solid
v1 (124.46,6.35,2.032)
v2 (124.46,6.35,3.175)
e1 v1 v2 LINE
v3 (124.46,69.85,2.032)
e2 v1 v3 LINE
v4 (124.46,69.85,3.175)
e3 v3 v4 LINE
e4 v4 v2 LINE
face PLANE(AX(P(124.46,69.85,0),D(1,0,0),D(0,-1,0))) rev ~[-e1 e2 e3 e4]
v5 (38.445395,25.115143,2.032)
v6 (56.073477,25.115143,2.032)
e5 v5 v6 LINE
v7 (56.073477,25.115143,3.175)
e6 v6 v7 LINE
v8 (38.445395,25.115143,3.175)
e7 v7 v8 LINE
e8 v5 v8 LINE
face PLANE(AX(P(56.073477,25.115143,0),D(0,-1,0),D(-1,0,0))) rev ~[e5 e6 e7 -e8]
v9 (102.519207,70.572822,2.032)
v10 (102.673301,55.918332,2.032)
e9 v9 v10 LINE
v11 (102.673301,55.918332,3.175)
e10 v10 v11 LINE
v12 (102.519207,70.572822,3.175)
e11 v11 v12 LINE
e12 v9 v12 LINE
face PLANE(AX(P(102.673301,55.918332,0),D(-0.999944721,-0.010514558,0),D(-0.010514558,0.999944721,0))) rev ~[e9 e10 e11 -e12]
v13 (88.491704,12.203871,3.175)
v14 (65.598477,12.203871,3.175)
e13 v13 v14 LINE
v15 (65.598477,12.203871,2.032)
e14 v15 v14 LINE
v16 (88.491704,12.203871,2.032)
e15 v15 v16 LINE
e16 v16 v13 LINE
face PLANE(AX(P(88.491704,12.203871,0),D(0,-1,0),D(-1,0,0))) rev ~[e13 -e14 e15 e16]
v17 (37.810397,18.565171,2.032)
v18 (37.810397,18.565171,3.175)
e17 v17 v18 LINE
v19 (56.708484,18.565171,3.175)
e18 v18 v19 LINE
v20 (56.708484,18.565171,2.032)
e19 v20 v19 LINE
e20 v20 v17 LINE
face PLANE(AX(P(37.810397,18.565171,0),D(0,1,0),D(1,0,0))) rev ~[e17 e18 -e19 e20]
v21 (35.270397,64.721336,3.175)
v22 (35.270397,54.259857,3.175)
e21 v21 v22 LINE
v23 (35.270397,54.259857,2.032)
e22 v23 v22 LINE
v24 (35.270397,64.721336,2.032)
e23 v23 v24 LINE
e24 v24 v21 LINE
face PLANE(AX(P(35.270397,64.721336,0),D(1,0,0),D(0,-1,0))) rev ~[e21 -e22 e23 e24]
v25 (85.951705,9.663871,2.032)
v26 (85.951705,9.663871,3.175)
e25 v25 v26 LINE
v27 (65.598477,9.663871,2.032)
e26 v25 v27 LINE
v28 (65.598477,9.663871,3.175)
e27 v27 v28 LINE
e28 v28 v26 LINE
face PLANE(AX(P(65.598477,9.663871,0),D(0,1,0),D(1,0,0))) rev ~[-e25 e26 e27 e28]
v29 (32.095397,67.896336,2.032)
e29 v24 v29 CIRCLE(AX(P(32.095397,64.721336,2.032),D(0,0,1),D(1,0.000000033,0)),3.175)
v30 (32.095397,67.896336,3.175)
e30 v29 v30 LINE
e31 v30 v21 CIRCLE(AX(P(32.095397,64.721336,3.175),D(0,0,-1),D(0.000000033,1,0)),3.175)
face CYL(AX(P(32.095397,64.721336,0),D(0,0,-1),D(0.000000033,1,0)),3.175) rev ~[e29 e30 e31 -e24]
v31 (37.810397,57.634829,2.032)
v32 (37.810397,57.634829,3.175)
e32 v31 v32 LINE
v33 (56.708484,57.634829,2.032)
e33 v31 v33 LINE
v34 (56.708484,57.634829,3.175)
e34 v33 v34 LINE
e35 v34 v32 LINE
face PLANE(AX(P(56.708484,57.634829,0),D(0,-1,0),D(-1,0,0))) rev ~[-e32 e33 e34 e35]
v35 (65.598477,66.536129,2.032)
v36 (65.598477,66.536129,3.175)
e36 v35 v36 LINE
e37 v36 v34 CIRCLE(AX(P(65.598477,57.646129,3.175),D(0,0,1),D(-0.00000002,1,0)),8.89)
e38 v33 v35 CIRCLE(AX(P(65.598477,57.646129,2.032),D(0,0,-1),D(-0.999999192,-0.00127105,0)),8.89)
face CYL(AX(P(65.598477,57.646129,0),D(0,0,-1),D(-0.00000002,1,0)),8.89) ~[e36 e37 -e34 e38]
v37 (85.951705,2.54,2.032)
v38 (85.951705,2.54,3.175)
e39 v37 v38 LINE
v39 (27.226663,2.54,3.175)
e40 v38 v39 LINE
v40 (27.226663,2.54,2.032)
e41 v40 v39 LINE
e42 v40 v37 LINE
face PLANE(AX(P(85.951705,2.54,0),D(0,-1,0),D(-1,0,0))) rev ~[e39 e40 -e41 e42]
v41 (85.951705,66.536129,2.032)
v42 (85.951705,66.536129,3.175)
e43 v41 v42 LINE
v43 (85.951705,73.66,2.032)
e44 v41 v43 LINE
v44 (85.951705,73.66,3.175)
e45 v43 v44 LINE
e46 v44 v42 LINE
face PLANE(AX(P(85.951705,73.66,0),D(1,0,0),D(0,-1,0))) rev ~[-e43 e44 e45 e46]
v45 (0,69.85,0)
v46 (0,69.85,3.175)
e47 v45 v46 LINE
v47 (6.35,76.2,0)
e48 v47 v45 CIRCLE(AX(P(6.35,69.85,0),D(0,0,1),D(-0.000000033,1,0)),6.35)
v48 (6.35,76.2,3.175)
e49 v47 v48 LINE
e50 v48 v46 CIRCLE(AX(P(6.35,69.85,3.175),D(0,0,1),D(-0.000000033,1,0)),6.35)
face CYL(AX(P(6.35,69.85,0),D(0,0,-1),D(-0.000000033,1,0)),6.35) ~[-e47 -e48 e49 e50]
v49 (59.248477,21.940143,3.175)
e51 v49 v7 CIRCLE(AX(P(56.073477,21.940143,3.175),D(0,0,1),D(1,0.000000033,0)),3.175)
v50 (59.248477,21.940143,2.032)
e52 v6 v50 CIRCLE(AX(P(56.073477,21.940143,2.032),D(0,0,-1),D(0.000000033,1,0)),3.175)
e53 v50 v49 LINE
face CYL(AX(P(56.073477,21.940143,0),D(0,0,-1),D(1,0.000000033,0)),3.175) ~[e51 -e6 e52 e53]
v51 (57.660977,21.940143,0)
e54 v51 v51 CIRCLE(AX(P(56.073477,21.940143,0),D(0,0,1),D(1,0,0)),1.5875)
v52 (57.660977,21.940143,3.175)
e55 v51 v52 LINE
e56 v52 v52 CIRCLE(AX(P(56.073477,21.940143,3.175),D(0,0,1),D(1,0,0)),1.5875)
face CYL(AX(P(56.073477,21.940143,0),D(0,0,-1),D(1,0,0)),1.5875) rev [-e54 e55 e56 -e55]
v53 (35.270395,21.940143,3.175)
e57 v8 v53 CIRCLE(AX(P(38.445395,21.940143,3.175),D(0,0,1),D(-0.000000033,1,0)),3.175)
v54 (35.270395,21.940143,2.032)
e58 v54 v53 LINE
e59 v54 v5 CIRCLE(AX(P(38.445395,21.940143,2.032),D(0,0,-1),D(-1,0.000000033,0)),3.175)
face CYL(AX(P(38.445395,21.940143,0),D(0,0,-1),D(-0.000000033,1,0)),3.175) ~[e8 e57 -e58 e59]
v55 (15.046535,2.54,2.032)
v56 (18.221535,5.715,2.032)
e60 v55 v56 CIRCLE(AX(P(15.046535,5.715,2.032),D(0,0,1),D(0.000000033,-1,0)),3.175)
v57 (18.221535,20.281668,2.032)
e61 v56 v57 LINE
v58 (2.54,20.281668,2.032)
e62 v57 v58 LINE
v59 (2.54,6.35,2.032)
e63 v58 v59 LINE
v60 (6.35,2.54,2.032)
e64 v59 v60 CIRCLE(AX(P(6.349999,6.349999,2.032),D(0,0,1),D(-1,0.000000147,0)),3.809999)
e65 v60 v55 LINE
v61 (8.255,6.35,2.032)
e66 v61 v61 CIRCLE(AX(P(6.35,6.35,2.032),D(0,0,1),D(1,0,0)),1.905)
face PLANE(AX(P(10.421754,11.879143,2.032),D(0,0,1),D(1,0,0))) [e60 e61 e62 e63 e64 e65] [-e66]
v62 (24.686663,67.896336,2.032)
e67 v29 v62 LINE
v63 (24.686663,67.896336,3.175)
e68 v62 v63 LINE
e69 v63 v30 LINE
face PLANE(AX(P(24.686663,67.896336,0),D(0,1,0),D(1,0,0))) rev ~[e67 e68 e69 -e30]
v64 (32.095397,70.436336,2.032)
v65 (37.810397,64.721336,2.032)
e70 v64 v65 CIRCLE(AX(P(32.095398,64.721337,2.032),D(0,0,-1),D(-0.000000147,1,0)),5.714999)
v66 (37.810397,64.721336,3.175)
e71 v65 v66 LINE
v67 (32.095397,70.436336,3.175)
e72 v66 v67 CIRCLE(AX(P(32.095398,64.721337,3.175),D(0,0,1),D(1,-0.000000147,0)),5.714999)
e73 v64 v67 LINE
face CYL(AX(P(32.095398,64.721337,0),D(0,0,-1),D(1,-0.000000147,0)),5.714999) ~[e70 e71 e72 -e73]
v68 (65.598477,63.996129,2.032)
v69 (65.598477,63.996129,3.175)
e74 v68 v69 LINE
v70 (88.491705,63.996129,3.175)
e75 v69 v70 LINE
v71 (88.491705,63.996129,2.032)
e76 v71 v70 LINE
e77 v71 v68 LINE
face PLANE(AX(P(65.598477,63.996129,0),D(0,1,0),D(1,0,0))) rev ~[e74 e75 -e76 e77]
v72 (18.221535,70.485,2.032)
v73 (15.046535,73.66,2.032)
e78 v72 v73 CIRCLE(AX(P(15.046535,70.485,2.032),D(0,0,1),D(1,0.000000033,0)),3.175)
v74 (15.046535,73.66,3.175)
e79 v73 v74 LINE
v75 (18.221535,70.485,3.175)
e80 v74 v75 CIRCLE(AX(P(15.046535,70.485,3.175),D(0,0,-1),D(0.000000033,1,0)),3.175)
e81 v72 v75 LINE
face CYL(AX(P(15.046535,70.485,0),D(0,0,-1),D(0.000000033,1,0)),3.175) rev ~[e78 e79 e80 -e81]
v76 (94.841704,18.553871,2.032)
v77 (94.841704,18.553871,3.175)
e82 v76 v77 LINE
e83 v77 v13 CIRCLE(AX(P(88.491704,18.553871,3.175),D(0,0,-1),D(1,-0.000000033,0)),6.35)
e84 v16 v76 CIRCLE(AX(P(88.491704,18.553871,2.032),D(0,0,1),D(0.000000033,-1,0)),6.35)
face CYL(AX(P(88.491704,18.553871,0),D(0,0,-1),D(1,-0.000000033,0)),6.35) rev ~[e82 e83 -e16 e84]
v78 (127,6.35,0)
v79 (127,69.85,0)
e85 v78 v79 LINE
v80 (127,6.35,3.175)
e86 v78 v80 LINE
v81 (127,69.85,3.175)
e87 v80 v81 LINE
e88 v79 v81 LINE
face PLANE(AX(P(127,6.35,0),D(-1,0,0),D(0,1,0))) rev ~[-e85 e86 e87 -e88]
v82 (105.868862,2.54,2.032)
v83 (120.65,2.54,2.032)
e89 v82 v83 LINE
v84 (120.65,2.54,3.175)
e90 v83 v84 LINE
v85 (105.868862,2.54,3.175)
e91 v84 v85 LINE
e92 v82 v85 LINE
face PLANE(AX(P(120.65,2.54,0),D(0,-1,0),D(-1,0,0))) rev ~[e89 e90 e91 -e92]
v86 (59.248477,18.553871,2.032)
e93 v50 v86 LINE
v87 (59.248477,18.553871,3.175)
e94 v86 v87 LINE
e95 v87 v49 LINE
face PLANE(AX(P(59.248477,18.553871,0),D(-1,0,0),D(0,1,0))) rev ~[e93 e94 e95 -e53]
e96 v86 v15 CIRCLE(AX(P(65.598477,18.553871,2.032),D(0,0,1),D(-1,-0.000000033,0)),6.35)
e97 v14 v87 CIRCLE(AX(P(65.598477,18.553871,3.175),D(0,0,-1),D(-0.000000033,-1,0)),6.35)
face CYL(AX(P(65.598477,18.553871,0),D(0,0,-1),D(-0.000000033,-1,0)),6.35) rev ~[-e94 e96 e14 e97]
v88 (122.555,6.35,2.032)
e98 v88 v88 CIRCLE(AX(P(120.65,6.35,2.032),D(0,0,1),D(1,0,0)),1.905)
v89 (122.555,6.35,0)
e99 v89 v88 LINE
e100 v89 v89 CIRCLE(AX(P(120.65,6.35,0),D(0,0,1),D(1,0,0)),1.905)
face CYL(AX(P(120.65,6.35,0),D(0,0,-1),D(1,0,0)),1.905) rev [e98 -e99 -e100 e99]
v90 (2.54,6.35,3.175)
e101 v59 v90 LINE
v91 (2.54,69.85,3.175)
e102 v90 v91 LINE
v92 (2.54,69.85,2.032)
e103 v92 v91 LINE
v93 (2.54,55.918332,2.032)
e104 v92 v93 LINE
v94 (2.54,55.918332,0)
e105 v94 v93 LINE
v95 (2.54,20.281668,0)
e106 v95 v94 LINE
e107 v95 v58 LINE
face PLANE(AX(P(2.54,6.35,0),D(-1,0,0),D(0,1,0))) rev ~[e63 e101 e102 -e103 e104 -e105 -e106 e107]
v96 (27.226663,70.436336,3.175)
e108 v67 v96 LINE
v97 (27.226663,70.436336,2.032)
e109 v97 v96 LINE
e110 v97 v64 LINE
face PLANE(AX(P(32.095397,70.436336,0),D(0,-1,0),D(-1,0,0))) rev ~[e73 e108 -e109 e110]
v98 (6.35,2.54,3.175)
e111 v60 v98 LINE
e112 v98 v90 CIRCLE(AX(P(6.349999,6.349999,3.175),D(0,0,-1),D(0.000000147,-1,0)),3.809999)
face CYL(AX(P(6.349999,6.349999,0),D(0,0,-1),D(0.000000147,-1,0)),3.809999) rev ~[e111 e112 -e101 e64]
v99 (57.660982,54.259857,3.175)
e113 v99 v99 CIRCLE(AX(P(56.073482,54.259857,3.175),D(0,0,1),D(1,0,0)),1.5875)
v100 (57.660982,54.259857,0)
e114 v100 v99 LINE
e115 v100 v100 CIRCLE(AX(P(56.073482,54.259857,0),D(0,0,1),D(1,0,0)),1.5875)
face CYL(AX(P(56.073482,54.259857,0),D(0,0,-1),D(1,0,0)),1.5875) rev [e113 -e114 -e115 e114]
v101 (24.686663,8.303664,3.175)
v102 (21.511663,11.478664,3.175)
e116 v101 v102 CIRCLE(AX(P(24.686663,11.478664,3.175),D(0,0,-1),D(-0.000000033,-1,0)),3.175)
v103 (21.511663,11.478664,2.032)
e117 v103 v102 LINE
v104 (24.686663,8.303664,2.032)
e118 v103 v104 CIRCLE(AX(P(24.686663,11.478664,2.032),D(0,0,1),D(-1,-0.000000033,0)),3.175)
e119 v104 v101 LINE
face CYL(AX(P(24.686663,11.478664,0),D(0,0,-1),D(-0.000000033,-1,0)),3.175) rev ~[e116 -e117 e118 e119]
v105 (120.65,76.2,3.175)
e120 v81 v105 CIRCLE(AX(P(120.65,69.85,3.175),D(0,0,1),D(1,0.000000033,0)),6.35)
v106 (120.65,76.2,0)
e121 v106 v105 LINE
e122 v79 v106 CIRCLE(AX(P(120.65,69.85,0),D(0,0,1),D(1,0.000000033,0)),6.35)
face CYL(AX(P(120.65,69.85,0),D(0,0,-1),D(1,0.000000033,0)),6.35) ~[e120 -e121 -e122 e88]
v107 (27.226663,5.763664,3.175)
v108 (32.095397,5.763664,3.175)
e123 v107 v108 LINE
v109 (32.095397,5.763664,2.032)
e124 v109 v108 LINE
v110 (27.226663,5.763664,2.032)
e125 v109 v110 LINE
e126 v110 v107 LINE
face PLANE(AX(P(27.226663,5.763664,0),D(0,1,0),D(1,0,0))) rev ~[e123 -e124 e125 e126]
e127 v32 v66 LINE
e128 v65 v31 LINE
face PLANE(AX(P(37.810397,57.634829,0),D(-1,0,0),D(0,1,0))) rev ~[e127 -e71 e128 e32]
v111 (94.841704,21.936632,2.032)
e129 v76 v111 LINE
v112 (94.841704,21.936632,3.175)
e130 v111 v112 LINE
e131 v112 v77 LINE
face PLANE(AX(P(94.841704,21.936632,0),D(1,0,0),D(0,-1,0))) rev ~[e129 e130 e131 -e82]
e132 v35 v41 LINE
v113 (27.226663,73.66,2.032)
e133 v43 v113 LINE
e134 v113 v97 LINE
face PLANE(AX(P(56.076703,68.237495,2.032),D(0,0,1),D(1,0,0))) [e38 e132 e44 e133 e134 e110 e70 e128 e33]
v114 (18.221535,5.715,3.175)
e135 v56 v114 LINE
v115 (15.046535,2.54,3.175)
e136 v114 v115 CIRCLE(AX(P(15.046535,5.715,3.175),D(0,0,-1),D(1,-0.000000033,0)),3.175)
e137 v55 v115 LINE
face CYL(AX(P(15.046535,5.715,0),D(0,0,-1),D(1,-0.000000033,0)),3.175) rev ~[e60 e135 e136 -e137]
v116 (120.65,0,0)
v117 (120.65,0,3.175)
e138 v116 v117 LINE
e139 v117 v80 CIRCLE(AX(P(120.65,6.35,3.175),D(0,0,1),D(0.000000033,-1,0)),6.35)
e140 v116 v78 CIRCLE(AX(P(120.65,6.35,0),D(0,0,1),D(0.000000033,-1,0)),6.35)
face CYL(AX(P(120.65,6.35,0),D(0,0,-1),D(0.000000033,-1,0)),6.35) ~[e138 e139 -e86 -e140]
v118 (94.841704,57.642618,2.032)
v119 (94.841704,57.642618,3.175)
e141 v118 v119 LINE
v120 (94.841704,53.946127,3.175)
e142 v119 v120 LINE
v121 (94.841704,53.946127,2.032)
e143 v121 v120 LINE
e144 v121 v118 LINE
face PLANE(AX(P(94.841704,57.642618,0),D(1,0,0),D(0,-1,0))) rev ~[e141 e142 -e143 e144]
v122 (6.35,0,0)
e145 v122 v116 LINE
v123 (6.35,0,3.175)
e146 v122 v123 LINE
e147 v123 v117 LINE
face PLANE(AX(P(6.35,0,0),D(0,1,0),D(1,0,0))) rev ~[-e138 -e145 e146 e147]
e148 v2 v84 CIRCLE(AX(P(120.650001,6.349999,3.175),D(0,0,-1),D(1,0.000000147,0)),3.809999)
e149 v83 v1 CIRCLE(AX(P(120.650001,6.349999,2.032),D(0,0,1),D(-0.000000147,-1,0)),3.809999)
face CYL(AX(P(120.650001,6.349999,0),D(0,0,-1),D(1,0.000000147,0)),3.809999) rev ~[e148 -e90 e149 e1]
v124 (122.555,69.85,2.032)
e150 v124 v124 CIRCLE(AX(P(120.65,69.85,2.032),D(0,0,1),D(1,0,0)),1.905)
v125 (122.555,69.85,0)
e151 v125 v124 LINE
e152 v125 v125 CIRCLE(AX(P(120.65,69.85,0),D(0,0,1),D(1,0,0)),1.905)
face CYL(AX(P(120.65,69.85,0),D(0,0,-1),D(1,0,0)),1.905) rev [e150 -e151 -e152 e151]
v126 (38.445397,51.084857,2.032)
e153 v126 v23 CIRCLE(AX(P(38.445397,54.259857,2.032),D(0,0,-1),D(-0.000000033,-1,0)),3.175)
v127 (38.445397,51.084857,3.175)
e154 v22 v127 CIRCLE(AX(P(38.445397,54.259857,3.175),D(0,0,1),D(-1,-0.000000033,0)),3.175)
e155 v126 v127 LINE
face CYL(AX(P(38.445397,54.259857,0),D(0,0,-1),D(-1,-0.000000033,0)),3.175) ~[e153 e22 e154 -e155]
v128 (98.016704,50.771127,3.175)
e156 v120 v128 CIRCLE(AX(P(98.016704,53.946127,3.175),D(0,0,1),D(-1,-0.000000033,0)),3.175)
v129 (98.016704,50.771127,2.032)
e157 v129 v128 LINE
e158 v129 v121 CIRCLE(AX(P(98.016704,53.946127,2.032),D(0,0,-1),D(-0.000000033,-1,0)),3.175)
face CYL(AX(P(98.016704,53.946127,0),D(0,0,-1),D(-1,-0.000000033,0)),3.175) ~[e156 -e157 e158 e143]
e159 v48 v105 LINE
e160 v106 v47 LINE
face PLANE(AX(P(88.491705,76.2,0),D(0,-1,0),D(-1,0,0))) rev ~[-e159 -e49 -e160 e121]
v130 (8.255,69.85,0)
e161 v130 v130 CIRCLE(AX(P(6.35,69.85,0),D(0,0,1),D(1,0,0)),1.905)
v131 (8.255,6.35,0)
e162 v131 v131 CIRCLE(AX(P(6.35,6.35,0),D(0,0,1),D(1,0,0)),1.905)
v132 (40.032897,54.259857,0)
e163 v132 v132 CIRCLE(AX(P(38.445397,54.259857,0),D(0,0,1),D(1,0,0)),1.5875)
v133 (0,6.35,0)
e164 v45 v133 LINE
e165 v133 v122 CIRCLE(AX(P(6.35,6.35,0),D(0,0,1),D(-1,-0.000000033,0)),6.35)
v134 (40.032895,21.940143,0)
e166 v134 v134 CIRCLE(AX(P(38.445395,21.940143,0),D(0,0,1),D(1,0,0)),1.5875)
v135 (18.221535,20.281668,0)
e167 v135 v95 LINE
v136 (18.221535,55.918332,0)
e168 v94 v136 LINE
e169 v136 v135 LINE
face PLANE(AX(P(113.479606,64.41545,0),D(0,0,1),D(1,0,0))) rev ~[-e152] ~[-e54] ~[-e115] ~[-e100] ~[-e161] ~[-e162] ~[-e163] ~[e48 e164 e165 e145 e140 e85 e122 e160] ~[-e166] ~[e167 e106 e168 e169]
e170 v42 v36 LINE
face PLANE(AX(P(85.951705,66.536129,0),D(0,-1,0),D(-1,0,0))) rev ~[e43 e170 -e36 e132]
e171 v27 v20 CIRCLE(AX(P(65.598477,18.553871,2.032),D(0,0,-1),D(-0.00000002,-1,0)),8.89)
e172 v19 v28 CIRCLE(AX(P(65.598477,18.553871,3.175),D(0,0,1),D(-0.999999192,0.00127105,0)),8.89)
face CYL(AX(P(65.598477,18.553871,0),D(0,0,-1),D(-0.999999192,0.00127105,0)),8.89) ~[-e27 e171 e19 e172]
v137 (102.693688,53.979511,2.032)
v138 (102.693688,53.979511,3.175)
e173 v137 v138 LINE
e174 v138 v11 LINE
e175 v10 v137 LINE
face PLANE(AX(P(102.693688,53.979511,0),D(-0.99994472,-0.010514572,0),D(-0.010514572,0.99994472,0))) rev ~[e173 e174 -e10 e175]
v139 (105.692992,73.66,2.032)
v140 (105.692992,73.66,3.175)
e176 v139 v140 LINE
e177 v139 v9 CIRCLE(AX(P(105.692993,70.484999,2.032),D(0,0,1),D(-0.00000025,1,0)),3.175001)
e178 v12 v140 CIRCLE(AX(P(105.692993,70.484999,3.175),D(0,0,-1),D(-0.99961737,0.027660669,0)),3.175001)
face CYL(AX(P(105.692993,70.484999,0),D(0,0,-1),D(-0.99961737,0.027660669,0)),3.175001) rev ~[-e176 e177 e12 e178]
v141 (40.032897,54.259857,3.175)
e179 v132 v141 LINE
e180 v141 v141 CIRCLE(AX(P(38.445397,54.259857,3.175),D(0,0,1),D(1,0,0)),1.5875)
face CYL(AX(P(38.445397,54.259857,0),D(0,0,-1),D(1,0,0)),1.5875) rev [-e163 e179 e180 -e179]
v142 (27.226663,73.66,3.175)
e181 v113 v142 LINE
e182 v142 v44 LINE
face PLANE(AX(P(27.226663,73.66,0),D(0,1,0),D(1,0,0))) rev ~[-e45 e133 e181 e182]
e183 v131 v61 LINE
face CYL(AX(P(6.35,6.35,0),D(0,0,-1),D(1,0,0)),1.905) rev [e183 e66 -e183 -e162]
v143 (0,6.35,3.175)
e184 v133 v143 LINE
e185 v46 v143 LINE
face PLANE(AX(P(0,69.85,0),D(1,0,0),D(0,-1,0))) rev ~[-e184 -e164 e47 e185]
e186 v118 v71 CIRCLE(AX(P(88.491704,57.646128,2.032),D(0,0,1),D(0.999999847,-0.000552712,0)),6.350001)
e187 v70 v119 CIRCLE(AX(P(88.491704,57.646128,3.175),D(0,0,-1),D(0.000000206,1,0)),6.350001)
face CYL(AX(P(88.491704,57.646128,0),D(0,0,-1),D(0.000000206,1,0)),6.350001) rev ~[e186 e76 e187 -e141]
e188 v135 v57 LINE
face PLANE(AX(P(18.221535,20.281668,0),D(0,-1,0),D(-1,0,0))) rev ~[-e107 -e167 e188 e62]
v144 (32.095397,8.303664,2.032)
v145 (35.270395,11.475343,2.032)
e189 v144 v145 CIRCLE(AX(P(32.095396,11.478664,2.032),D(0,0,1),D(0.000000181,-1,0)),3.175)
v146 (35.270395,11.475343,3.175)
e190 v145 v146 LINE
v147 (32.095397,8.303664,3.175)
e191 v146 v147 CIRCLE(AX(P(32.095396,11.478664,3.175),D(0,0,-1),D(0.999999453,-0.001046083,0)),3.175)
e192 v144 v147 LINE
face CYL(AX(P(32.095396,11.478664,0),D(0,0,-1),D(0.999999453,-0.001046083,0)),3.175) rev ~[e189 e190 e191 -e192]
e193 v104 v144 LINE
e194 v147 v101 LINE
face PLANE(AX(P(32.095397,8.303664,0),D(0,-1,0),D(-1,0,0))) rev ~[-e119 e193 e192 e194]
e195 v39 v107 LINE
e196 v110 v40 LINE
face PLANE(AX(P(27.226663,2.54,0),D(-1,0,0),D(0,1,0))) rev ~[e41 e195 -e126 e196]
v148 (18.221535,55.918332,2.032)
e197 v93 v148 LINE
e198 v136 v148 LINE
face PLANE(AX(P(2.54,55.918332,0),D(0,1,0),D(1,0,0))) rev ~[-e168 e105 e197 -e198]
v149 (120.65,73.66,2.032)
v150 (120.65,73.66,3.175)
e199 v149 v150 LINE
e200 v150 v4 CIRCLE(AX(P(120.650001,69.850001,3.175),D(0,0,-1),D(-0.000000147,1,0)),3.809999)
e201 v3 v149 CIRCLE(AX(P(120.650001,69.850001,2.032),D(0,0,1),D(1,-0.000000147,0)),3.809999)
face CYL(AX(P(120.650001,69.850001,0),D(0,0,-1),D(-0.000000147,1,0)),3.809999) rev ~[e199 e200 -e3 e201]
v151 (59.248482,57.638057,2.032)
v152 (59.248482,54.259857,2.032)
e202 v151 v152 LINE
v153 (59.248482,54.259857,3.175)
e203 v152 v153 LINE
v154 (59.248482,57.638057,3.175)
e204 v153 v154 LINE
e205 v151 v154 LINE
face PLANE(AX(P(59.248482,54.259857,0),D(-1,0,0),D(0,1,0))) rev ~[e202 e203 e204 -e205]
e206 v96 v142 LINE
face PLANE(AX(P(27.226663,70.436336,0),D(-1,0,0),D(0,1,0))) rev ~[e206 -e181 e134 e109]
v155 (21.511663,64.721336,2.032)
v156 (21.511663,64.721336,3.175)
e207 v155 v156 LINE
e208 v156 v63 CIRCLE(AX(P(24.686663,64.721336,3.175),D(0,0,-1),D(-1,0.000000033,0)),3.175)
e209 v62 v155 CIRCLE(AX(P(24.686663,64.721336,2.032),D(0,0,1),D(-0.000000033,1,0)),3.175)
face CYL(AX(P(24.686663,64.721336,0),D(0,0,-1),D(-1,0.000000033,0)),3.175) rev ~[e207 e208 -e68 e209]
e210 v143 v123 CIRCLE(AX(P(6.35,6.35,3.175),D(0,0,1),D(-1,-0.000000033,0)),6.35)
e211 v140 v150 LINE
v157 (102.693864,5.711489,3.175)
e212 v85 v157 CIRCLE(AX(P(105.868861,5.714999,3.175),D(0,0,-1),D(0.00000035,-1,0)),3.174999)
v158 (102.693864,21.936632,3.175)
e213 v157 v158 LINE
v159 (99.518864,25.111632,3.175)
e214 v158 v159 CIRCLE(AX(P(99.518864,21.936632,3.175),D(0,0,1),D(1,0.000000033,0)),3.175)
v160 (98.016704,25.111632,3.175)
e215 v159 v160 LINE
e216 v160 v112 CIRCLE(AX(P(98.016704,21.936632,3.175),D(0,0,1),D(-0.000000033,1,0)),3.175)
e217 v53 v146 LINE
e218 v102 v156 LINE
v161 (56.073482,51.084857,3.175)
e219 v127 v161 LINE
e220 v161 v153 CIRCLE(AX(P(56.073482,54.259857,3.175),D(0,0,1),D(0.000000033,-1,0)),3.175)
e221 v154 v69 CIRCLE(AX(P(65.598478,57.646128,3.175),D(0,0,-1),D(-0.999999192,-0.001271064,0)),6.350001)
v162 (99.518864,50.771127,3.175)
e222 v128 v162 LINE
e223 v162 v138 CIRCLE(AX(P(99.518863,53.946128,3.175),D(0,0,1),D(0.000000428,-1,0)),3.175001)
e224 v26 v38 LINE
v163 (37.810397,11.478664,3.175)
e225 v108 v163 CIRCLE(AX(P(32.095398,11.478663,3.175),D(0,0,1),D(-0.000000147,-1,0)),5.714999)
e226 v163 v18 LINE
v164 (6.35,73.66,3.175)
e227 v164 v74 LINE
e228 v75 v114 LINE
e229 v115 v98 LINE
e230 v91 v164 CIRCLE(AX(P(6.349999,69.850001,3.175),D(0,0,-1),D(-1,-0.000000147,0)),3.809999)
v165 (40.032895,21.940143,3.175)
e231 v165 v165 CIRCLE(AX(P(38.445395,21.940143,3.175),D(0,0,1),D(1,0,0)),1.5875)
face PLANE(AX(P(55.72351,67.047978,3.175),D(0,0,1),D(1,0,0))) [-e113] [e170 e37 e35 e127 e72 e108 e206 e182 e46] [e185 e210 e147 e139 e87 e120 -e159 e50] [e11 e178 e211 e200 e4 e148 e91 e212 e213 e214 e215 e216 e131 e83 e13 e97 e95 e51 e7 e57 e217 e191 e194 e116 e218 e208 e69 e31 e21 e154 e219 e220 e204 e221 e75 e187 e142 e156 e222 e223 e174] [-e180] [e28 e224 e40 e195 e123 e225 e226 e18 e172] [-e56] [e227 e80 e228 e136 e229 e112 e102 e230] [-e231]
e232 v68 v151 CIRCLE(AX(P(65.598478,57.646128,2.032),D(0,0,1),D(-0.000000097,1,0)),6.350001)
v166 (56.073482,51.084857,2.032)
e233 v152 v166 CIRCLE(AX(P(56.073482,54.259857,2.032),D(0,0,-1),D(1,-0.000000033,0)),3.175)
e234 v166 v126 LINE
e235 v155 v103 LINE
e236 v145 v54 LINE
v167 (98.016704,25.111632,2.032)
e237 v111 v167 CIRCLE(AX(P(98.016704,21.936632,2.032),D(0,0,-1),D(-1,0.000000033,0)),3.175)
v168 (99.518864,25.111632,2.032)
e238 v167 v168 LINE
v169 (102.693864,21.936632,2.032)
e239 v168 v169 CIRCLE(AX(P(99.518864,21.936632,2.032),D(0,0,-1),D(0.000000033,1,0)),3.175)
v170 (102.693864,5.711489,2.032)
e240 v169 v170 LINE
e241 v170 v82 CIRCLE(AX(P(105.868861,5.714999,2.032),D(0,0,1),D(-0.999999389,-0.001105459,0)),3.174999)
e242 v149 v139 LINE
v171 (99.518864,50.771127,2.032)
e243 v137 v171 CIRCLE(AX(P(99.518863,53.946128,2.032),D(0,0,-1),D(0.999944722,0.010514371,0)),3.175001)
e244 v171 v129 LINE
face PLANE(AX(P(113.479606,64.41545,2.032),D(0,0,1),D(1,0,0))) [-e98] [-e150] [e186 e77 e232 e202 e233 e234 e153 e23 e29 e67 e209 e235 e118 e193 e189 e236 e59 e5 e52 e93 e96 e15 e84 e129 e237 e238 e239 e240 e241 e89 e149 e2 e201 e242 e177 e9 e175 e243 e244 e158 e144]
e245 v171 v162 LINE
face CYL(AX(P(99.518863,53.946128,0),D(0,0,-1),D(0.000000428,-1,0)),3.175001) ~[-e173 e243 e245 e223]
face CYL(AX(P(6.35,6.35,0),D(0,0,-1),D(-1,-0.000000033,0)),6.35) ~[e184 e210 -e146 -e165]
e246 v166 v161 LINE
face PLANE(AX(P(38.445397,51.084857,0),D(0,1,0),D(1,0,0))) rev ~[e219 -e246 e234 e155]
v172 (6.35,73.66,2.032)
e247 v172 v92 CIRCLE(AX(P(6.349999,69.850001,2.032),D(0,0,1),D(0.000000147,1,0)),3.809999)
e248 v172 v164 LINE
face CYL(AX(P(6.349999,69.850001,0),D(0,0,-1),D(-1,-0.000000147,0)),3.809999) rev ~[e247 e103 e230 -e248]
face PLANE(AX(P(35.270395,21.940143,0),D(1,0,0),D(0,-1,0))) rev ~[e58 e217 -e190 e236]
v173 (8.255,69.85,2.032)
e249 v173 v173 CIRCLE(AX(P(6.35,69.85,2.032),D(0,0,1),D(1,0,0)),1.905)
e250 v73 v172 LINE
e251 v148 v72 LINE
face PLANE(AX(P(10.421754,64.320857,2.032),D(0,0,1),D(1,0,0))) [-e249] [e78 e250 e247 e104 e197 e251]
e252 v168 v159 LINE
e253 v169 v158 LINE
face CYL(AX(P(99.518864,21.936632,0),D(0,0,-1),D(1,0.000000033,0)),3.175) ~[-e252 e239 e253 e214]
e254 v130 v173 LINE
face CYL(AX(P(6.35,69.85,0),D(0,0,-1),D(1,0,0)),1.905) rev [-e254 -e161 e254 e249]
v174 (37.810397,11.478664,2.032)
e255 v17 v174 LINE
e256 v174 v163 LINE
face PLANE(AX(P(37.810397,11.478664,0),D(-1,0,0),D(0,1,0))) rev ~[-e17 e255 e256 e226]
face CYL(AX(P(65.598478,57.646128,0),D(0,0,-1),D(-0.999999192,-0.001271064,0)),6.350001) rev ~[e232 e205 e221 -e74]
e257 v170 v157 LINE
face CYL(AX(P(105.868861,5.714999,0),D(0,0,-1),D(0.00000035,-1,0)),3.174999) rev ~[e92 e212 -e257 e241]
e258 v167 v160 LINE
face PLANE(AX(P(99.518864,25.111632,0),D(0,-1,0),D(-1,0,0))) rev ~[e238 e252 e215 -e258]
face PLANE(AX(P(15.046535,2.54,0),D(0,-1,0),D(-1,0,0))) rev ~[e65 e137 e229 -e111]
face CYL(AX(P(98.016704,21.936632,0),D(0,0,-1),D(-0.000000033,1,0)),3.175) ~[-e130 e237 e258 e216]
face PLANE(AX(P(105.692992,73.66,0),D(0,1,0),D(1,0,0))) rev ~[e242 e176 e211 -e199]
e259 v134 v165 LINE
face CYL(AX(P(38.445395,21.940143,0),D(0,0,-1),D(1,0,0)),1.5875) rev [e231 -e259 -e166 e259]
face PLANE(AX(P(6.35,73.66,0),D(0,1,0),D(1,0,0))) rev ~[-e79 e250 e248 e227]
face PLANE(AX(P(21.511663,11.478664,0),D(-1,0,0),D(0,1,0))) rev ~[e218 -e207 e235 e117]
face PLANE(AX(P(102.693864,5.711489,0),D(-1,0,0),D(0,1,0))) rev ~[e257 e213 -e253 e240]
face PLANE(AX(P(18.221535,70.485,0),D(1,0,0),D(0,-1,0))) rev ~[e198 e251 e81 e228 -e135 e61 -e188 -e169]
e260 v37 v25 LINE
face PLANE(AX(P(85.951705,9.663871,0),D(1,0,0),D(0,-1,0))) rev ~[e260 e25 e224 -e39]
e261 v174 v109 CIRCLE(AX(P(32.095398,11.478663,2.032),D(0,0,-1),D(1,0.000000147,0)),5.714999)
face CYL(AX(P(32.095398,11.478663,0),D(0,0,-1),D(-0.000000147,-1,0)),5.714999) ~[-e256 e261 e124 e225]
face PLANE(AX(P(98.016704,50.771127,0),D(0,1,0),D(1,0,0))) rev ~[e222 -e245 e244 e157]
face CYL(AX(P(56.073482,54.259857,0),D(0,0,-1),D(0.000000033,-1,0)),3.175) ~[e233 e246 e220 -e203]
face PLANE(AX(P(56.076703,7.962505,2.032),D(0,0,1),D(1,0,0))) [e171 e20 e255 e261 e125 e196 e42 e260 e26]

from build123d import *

# Parameters (mm, degrees)
F0_R     = 1.5875
F1_DEPTH = 3.175
F2_DEPTH = 3.175
F3_DEPTH = 2.032
F4_DEPTH = 2.032
F5_DEPTH = 2.032
F0_R_2   = 1.905
F6_DEPTH = 2.032
F7_DEPTH = 2.032


with BuildPart() as f1:
    # F0 (on Top) → F1 (new body)
    with BuildSketch(Plane.XY):
        with BuildLine():
            ThreePointArc((0, 6.35), (1.859872, 1.859872), (6.35, 0))
            Line((6.35, 0), (120.65, 0))
            ThreePointArc((120.65, 0), (125.140128, 1.859872), (127, 6.35))
            Line((127, 6.35), (127, 69.85))
            ThreePointArc((127, 69.85), (125.140128, 74.340128), (120.65, 76.2))
            Line((120.65, 76.2), (88.491705, 76.2))
            Line((88.491705, 76.2), (88.491705, 63.996129))
            ThreePointArc((88.491705, 63.996129), (92.983074, 62.135015), (94.841704, 57.642618))
            Line((94.841704, 57.642618), (94.841704, 53.946127))
            ThreePointArc((94.841704, 53.946127), (95.77164, 51.701063), (98.016704, 50.771127))
            Line((98.016704, 50.771127), (99.518864, 50.771127))
            ThreePointArc((99.518864, 50.771127), (101.7757, 51.712898), (102.693688, 53.979511))
            Line((102.693688, 53.979511), (102.673301, 55.918332))
            Line((102.673301, 55.918332), (102.519207, 70.572822))
            ThreePointArc((102.519207, 70.572822), (103.479196, 72.760902), (105.692992, 73.66))
            Line((105.692992, 73.66), (120.65, 73.66))
            ThreePointArc((120.65, 73.66), (123.344077, 72.544077), (124.46, 69.85))
            Line((124.46, 69.85), (124.46, 55.918332))
            Line((124.46, 55.918332), (124.46, 20.257623))
            Line((124.46, 20.257623), (124.46, 6.35))
            ThreePointArc((124.46, 6.35), (123.344077, 3.655923), (120.65, 2.54))
            Line((120.65, 2.54), (105.868862, 2.54))
            ThreePointArc((105.868862, 2.54), (103.625039, 3.468695), (102.693864, 5.711489))
            Line((102.693864, 5.711489), (102.693864, 20.281668))
            Line((102.693864, 20.281668), (102.693864, 21.936632))
            ThreePointArc((102.693864, 21.936632), (101.763928, 24.181696), (99.518864, 25.111632))
            Line((99.518864, 25.111632), (98.016704, 25.111632))
            ThreePointArc((98.016704, 25.111632), (95.77164, 24.181696), (94.841704, 21.936632))
            Line((94.841704, 21.936632), (94.841704, 18.553871))
            ThreePointArc((94.841704, 18.553871), (92.981832, 14.063743), (88.491704, 12.203871))
            Line((88.491704, 12.203871), (65.598477, 12.203871))
            ThreePointArc((65.598477, 12.203871), (61.108349, 14.063743), (59.248477, 18.553871))
            Line((59.248477, 18.553871), (59.248477, 21.940143))
            ThreePointArc((59.248477, 21.940143), (58.318541, 24.185207), (56.073477, 25.115143))
            Line((56.073477, 25.115143), (38.445395, 25.115143))
            ThreePointArc((38.445395, 25.115143), (36.200331, 24.185207), (35.270395, 21.940143))
            Line((35.270395, 21.940143), (35.270395, 11.475343))
            ThreePointArc((35.270395, 11.475343), (34.339286, 9.232426), (32.095397, 8.303664))
            Line((32.095397, 8.303664), (24.686663, 8.303664))
            ThreePointArc((24.686663, 8.303664), (22.441599, 9.2336), (21.511663, 11.478664))
            Line((21.511663, 11.478664), (21.511663, 64.721336))
            ThreePointArc((21.511663, 64.721336), (22.441599, 66.9664), (24.686663, 67.896336))
            Line((24.686663, 67.896336), (24.686663, 76.2))
            Line((24.686663, 76.2), (6.35, 76.2))
            ThreePointArc((6.35, 76.2), (1.859872, 74.340128), (0, 69.85))
            Line((0, 69.85), (0, 6.35))
        make_face()
        with BuildLine():
            Line((37.810397, 18.565171), (56.708484, 18.565171))
            ThreePointArc((56.708484, 18.565171), (59.308304, 12.271688), (65.598477, 9.663871))
            Line((65.598477, 9.663871), (85.951705, 9.663871))
            Line((85.951705, 9.663871), (85.951705, 2.54))
            Line((85.951705, 2.54), (27.226663, 2.54))
            Line((27.226663, 2.54), (27.226663, 5.763664))
            Line((27.226663, 5.763664), (32.095397, 5.763664))
            ThreePointArc((32.095397, 5.763664), (36.136512, 7.437548), (37.810397, 11.478664))
            Line((37.810397, 11.478664), (37.810397, 18.565171))
        make_face(mode=Mode.SUBTRACT)
        with BuildLine():
            ThreePointArc((6.35, 2.54), (3.655923, 3.655923), (2.54, 6.35))
            Line((2.54, 6.35), (2.54, 20.281668))
            Line((2.54, 20.281668), (2.54, 55.918332))
            Line((2.54, 55.918332), (2.54, 69.85))
            ThreePointArc((2.54, 69.85), (3.655923, 72.544077), (6.35, 73.66))
            Line((6.35, 73.66), (15.046535, 73.66))
            ThreePointArc((15.046535, 73.66), (17.291599, 72.730064), (18.221535, 70.485))
            Line((18.221535, 70.485), (18.221535, 55.918332))
            Line((18.221535, 55.918332), (18.221535, 20.281668))
            Line((18.221535, 20.281668), (18.221535, 5.715))
            ThreePointArc((18.221535, 5.715), (17.291599, 3.469936), (15.046535, 2.54))
            Line((15.046535, 2.54), (6.35, 2.54))
        make_face(mode=Mode.SUBTRACT)
        with Locations((38.445395, 21.940143)):
            Circle(F0_R, mode=Mode.SUBTRACT)
        with Locations((56.073477, 21.940143)):
            Circle(F0_R, mode=Mode.SUBTRACT)
    extrude(amount=F1_DEPTH)

    # F0 (on Top) → F2 (join)
    with BuildSketch(Plane.XY):
        with BuildLine():
            Line((88.491705, 76.2), (24.686663, 76.2))
            Line((24.686663, 76.2), (24.686663, 67.896336))
            Line((24.686663, 67.896336), (32.095397, 67.896336))
            ThreePointArc((32.095397, 67.896336), (34.340461, 66.9664), (35.270397, 64.721336))
            Line((35.270397, 64.721336), (35.270397, 54.259857))
            ThreePointArc((35.270397, 54.259857), (36.200333, 52.014793), (38.445397, 51.084857))
            Line((38.445397, 51.084857), (56.073482, 51.084857))
            ThreePointArc((56.073482, 51.084857), (58.318546, 52.014793), (59.248482, 54.259857))
            Line((59.248482, 54.259857), (59.248482, 57.638057))
            ThreePointArc((59.248482, 57.638057), (61.105496, 62.133402), (65.598477, 63.996129))
            Line((65.598477, 63.996129), (88.491705, 63.996129))
            Line((88.491705, 63.996129), (88.491705, 76.2))
        make_face()
        with Locations((38.445397, 54.259857)):
            Circle(F0_R, mode=Mode.SUBTRACT)
        with Locations((56.073482, 54.259857)):
            Circle(F0_R, mode=Mode.SUBTRACT)
        with BuildLine():
            Line((27.226663, 73.66), (85.951705, 73.66))
            Line((85.951705, 73.66), (85.951705, 66.536129))
            Line((85.951705, 66.536129), (65.598477, 66.536129))
            ThreePointArc((65.598477, 66.536129), (59.308304, 63.928312), (56.708484, 57.634829))
            Line((56.708484, 57.634829), (37.810397, 57.634829))
            Line((37.810397, 57.634829), (37.810397, 64.721336))
            ThreePointArc((37.810397, 64.721336), (36.136512, 68.762452), (32.095397, 70.436336))
            Line((32.095397, 70.436336), (27.226663, 70.436336))
            Line((27.226663, 70.436336), (27.226663, 73.66))
        make_face(mode=Mode.SUBTRACT)
    extrude(amount=F2_DEPTH)

    # F0 (on Top) → F3 (join)
    with BuildSketch(Plane.XY):
        with BuildLine():
            Line((85.951705, 66.536129), (85.951705, 73.66))
            Line((85.951705, 73.66), (27.226663, 73.66))
            Line((27.226663, 73.66), (27.226663, 70.436336))
            Line((27.226663, 70.436336), (32.095397, 70.436336))
            ThreePointArc((32.095397, 70.436336), (36.136512, 68.762452), (37.810397, 64.721336))
            Line((37.810397, 64.721336), (37.810397, 57.634829))
            Line((37.810397, 57.634829), (56.708484, 57.634829))
            ThreePointArc((56.708484, 57.634829), (59.308304, 63.928312), (65.598477, 66.536129))
            Line((65.598477, 66.536129), (85.951705, 66.536129))
        make_face()
    extrude(amount=F3_DEPTH)

    # F0 (on Top) → F4 (join)
    with BuildSketch(Plane.XY):
        with BuildLine():
            Line((32.095397, 67.896336), (24.686663, 67.896336))
            ThreePointArc((24.686663, 67.896336), (22.441599, 66.9664), (21.511663, 64.721336))
            Line((21.511663, 64.721336), (21.511663, 11.478664))
            ThreePointArc((21.511663, 11.478664), (22.441599, 9.2336), (24.686663, 8.303664))
            Line((24.686663, 8.303664), (32.095397, 8.303664))
            ThreePointArc((32.095397, 8.303664), (34.339286, 9.232426), (35.270395, 11.475343))
            Line((35.270395, 11.475343), (35.270395, 21.940143))
            ThreePointArc((35.270395, 21.940143), (36.200331, 24.185207), (38.445395, 25.115143))
            Line((38.445395, 25.115143), (56.073477, 25.115143))
            ThreePointArc((56.073477, 25.115143), (58.318541, 24.185207), (59.248477, 21.940143))
            Line((59.248477, 21.940143), (59.248477, 18.553871))
            ThreePointArc((59.248477, 18.553871), (61.108349, 14.063743), (65.598477, 12.203871))
            Line((65.598477, 12.203871), (88.491704, 12.203871))
            ThreePointArc((88.491704, 12.203871), (92.981832, 14.063743), (94.841704, 18.553871))
            Line((94.841704, 18.553871), (94.841704, 21.936632))
            ThreePointArc((94.841704, 21.936632), (95.77164, 24.181696), (98.016704, 25.111632))
            Line((98.016704, 25.111632), (99.518864, 25.111632))
            ThreePointArc((99.518864, 25.111632), (101.763928, 24.181696), (102.693864, 21.936632))
            Line((102.693864, 21.936632), (102.693864, 20.281668))
            Line((102.693864, 20.281668), (124.46, 20.257623))
            Line((124.46, 20.257623), (124.46, 55.918332))
            Line((124.46, 55.918332), (102.673301, 55.918332))
            Line((102.673301, 55.918332), (102.693688, 53.979511))
            ThreePointArc((102.693688, 53.979511), (101.7757, 51.712898), (99.518864, 50.771127))
            Line((99.518864, 50.771127), (98.016704, 50.771127))
            ThreePointArc((98.016704, 50.771127), (95.77164, 51.701063), (94.841704, 53.946127))
            Line((94.841704, 53.946127), (94.841704, 57.642618))
            ThreePointArc((94.841704, 57.642618), (92.983074, 62.135015), (88.491705, 63.996129))
            Line((88.491705, 63.996129), (65.598477, 63.996129))
            ThreePointArc((65.598477, 63.996129), (61.105496, 62.133402), (59.248482, 57.638057))
            Line((59.248482, 57.638057), (59.248482, 54.259857))
            ThreePointArc((59.248482, 54.259857), (58.318546, 52.014793), (56.073482, 51.084857))
            Line((56.073482, 51.084857), (38.445397, 51.084857))
            ThreePointArc((38.445397, 51.084857), (36.200333, 52.014793), (35.270397, 54.259857))
            Line((35.270397, 54.259857), (35.270397, 64.721336))
            ThreePointArc((35.270397, 64.721336), (34.340461, 66.9664), (32.095397, 67.896336))
        make_face()
    extrude(amount=F4_DEPTH)

    # F0 (on Top) → F5 (join)
    with BuildSketch(Plane.XY):
        with BuildLine():
            ThreePointArc((65.598477, 9.663871), (59.308304, 12.271688), (56.708484, 18.565171))
            Line((56.708484, 18.565171), (37.810397, 18.565171))
            Line((37.810397, 18.565171), (37.810397, 11.478664))
            ThreePointArc((37.810397, 11.478664), (36.136512, 7.437548), (32.095397, 5.763664))
            Line((32.095397, 5.763664), (27.226663, 5.763664))
            Line((27.226663, 5.763664), (27.226663, 2.54))
            Line((27.226663, 2.54), (85.951705, 2.54))
            Line((85.951705, 2.54), (85.951705, 9.663871))
            Line((85.951705, 9.663871), (65.598477, 9.663871))
        make_face()
    extrude(amount=F5_DEPTH)

    # F0 (on Top) → F6 (join)
    with BuildSketch(Plane.XY):
        with BuildLine():
            Line((2.54, 20.281668), (2.54, 6.35))
            ThreePointArc((2.54, 6.35), (3.655923, 3.655923), (6.35, 2.54))
            Line((6.35, 2.54), (15.046535, 2.54))
            ThreePointArc((15.046535, 2.54), (17.291599, 3.469936), (18.221535, 5.715))
            Line((18.221535, 5.715), (18.221535, 20.281668))
            Line((18.221535, 20.281668), (2.54, 20.281668))
        make_face()
        with Locations((6.35, 6.35)):
            Circle(F0_R_2, mode=Mode.SUBTRACT)
    extrude(amount=F6_DEPTH)

    # F0 (on Top) → F7 (join)
    with BuildSketch(Plane.XY):
        with BuildLine():
            Line((102.519207, 70.572822), (102.673301, 55.918332))
            Line((102.673301, 55.918332), (124.46, 55.918332))
            Line((124.46, 55.918332), (124.46, 69.85))
            ThreePointArc((124.46, 69.85), (123.344077, 72.544077), (120.65, 73.66))
            Line((120.65, 73.66), (105.692992, 73.66))
            ThreePointArc((105.692992, 73.66), (103.479196, 72.760902), (102.519207, 70.572822))
        make_face()
        with Locations((120.65, 69.85)):
            Circle(F0_R_2, mode=Mode.SUBTRACT)
        with BuildLine():
            Line((2.54, 69.85), (2.54, 55.918332))
            Line((2.54, 55.918332), (18.221535, 55.918332))
            Line((18.221535, 55.918332), (18.221535, 70.485))
            ThreePointArc((18.221535, 70.485), (17.291599, 72.730064), (15.046535, 73.66))
            Line((15.046535, 73.66), (6.35, 73.66))
            ThreePointArc((6.35, 73.66), (3.655923, 72.544077), (2.54, 69.85))
        make_face()
        with Locations((6.35, 69.85)):
            Circle(F0_R_2, mode=Mode.SUBTRACT)
        with BuildLine():
            Line((124.46, 6.35), (124.46, 20.257623))
            Line((124.46, 20.257623), (102.693864, 20.281668))
            Line((102.693864, 20.281668), (102.693864, 5.711489))
            ThreePointArc((102.693864, 5.711489), (103.625039, 3.468695), (105.868862, 2.54))
            Line((105.868862, 2.54), (120.65, 2.54))
            ThreePointArc((120.65, 2.54), (123.344077, 3.655923), (124.46, 6.35))
        make_face()
        with Locations((120.65, 6.35)):
            Circle(F0_R_2, mode=Mode.SUBTRACT)
    extrude(amount=F7_DEPTH)


solid = f1.part
